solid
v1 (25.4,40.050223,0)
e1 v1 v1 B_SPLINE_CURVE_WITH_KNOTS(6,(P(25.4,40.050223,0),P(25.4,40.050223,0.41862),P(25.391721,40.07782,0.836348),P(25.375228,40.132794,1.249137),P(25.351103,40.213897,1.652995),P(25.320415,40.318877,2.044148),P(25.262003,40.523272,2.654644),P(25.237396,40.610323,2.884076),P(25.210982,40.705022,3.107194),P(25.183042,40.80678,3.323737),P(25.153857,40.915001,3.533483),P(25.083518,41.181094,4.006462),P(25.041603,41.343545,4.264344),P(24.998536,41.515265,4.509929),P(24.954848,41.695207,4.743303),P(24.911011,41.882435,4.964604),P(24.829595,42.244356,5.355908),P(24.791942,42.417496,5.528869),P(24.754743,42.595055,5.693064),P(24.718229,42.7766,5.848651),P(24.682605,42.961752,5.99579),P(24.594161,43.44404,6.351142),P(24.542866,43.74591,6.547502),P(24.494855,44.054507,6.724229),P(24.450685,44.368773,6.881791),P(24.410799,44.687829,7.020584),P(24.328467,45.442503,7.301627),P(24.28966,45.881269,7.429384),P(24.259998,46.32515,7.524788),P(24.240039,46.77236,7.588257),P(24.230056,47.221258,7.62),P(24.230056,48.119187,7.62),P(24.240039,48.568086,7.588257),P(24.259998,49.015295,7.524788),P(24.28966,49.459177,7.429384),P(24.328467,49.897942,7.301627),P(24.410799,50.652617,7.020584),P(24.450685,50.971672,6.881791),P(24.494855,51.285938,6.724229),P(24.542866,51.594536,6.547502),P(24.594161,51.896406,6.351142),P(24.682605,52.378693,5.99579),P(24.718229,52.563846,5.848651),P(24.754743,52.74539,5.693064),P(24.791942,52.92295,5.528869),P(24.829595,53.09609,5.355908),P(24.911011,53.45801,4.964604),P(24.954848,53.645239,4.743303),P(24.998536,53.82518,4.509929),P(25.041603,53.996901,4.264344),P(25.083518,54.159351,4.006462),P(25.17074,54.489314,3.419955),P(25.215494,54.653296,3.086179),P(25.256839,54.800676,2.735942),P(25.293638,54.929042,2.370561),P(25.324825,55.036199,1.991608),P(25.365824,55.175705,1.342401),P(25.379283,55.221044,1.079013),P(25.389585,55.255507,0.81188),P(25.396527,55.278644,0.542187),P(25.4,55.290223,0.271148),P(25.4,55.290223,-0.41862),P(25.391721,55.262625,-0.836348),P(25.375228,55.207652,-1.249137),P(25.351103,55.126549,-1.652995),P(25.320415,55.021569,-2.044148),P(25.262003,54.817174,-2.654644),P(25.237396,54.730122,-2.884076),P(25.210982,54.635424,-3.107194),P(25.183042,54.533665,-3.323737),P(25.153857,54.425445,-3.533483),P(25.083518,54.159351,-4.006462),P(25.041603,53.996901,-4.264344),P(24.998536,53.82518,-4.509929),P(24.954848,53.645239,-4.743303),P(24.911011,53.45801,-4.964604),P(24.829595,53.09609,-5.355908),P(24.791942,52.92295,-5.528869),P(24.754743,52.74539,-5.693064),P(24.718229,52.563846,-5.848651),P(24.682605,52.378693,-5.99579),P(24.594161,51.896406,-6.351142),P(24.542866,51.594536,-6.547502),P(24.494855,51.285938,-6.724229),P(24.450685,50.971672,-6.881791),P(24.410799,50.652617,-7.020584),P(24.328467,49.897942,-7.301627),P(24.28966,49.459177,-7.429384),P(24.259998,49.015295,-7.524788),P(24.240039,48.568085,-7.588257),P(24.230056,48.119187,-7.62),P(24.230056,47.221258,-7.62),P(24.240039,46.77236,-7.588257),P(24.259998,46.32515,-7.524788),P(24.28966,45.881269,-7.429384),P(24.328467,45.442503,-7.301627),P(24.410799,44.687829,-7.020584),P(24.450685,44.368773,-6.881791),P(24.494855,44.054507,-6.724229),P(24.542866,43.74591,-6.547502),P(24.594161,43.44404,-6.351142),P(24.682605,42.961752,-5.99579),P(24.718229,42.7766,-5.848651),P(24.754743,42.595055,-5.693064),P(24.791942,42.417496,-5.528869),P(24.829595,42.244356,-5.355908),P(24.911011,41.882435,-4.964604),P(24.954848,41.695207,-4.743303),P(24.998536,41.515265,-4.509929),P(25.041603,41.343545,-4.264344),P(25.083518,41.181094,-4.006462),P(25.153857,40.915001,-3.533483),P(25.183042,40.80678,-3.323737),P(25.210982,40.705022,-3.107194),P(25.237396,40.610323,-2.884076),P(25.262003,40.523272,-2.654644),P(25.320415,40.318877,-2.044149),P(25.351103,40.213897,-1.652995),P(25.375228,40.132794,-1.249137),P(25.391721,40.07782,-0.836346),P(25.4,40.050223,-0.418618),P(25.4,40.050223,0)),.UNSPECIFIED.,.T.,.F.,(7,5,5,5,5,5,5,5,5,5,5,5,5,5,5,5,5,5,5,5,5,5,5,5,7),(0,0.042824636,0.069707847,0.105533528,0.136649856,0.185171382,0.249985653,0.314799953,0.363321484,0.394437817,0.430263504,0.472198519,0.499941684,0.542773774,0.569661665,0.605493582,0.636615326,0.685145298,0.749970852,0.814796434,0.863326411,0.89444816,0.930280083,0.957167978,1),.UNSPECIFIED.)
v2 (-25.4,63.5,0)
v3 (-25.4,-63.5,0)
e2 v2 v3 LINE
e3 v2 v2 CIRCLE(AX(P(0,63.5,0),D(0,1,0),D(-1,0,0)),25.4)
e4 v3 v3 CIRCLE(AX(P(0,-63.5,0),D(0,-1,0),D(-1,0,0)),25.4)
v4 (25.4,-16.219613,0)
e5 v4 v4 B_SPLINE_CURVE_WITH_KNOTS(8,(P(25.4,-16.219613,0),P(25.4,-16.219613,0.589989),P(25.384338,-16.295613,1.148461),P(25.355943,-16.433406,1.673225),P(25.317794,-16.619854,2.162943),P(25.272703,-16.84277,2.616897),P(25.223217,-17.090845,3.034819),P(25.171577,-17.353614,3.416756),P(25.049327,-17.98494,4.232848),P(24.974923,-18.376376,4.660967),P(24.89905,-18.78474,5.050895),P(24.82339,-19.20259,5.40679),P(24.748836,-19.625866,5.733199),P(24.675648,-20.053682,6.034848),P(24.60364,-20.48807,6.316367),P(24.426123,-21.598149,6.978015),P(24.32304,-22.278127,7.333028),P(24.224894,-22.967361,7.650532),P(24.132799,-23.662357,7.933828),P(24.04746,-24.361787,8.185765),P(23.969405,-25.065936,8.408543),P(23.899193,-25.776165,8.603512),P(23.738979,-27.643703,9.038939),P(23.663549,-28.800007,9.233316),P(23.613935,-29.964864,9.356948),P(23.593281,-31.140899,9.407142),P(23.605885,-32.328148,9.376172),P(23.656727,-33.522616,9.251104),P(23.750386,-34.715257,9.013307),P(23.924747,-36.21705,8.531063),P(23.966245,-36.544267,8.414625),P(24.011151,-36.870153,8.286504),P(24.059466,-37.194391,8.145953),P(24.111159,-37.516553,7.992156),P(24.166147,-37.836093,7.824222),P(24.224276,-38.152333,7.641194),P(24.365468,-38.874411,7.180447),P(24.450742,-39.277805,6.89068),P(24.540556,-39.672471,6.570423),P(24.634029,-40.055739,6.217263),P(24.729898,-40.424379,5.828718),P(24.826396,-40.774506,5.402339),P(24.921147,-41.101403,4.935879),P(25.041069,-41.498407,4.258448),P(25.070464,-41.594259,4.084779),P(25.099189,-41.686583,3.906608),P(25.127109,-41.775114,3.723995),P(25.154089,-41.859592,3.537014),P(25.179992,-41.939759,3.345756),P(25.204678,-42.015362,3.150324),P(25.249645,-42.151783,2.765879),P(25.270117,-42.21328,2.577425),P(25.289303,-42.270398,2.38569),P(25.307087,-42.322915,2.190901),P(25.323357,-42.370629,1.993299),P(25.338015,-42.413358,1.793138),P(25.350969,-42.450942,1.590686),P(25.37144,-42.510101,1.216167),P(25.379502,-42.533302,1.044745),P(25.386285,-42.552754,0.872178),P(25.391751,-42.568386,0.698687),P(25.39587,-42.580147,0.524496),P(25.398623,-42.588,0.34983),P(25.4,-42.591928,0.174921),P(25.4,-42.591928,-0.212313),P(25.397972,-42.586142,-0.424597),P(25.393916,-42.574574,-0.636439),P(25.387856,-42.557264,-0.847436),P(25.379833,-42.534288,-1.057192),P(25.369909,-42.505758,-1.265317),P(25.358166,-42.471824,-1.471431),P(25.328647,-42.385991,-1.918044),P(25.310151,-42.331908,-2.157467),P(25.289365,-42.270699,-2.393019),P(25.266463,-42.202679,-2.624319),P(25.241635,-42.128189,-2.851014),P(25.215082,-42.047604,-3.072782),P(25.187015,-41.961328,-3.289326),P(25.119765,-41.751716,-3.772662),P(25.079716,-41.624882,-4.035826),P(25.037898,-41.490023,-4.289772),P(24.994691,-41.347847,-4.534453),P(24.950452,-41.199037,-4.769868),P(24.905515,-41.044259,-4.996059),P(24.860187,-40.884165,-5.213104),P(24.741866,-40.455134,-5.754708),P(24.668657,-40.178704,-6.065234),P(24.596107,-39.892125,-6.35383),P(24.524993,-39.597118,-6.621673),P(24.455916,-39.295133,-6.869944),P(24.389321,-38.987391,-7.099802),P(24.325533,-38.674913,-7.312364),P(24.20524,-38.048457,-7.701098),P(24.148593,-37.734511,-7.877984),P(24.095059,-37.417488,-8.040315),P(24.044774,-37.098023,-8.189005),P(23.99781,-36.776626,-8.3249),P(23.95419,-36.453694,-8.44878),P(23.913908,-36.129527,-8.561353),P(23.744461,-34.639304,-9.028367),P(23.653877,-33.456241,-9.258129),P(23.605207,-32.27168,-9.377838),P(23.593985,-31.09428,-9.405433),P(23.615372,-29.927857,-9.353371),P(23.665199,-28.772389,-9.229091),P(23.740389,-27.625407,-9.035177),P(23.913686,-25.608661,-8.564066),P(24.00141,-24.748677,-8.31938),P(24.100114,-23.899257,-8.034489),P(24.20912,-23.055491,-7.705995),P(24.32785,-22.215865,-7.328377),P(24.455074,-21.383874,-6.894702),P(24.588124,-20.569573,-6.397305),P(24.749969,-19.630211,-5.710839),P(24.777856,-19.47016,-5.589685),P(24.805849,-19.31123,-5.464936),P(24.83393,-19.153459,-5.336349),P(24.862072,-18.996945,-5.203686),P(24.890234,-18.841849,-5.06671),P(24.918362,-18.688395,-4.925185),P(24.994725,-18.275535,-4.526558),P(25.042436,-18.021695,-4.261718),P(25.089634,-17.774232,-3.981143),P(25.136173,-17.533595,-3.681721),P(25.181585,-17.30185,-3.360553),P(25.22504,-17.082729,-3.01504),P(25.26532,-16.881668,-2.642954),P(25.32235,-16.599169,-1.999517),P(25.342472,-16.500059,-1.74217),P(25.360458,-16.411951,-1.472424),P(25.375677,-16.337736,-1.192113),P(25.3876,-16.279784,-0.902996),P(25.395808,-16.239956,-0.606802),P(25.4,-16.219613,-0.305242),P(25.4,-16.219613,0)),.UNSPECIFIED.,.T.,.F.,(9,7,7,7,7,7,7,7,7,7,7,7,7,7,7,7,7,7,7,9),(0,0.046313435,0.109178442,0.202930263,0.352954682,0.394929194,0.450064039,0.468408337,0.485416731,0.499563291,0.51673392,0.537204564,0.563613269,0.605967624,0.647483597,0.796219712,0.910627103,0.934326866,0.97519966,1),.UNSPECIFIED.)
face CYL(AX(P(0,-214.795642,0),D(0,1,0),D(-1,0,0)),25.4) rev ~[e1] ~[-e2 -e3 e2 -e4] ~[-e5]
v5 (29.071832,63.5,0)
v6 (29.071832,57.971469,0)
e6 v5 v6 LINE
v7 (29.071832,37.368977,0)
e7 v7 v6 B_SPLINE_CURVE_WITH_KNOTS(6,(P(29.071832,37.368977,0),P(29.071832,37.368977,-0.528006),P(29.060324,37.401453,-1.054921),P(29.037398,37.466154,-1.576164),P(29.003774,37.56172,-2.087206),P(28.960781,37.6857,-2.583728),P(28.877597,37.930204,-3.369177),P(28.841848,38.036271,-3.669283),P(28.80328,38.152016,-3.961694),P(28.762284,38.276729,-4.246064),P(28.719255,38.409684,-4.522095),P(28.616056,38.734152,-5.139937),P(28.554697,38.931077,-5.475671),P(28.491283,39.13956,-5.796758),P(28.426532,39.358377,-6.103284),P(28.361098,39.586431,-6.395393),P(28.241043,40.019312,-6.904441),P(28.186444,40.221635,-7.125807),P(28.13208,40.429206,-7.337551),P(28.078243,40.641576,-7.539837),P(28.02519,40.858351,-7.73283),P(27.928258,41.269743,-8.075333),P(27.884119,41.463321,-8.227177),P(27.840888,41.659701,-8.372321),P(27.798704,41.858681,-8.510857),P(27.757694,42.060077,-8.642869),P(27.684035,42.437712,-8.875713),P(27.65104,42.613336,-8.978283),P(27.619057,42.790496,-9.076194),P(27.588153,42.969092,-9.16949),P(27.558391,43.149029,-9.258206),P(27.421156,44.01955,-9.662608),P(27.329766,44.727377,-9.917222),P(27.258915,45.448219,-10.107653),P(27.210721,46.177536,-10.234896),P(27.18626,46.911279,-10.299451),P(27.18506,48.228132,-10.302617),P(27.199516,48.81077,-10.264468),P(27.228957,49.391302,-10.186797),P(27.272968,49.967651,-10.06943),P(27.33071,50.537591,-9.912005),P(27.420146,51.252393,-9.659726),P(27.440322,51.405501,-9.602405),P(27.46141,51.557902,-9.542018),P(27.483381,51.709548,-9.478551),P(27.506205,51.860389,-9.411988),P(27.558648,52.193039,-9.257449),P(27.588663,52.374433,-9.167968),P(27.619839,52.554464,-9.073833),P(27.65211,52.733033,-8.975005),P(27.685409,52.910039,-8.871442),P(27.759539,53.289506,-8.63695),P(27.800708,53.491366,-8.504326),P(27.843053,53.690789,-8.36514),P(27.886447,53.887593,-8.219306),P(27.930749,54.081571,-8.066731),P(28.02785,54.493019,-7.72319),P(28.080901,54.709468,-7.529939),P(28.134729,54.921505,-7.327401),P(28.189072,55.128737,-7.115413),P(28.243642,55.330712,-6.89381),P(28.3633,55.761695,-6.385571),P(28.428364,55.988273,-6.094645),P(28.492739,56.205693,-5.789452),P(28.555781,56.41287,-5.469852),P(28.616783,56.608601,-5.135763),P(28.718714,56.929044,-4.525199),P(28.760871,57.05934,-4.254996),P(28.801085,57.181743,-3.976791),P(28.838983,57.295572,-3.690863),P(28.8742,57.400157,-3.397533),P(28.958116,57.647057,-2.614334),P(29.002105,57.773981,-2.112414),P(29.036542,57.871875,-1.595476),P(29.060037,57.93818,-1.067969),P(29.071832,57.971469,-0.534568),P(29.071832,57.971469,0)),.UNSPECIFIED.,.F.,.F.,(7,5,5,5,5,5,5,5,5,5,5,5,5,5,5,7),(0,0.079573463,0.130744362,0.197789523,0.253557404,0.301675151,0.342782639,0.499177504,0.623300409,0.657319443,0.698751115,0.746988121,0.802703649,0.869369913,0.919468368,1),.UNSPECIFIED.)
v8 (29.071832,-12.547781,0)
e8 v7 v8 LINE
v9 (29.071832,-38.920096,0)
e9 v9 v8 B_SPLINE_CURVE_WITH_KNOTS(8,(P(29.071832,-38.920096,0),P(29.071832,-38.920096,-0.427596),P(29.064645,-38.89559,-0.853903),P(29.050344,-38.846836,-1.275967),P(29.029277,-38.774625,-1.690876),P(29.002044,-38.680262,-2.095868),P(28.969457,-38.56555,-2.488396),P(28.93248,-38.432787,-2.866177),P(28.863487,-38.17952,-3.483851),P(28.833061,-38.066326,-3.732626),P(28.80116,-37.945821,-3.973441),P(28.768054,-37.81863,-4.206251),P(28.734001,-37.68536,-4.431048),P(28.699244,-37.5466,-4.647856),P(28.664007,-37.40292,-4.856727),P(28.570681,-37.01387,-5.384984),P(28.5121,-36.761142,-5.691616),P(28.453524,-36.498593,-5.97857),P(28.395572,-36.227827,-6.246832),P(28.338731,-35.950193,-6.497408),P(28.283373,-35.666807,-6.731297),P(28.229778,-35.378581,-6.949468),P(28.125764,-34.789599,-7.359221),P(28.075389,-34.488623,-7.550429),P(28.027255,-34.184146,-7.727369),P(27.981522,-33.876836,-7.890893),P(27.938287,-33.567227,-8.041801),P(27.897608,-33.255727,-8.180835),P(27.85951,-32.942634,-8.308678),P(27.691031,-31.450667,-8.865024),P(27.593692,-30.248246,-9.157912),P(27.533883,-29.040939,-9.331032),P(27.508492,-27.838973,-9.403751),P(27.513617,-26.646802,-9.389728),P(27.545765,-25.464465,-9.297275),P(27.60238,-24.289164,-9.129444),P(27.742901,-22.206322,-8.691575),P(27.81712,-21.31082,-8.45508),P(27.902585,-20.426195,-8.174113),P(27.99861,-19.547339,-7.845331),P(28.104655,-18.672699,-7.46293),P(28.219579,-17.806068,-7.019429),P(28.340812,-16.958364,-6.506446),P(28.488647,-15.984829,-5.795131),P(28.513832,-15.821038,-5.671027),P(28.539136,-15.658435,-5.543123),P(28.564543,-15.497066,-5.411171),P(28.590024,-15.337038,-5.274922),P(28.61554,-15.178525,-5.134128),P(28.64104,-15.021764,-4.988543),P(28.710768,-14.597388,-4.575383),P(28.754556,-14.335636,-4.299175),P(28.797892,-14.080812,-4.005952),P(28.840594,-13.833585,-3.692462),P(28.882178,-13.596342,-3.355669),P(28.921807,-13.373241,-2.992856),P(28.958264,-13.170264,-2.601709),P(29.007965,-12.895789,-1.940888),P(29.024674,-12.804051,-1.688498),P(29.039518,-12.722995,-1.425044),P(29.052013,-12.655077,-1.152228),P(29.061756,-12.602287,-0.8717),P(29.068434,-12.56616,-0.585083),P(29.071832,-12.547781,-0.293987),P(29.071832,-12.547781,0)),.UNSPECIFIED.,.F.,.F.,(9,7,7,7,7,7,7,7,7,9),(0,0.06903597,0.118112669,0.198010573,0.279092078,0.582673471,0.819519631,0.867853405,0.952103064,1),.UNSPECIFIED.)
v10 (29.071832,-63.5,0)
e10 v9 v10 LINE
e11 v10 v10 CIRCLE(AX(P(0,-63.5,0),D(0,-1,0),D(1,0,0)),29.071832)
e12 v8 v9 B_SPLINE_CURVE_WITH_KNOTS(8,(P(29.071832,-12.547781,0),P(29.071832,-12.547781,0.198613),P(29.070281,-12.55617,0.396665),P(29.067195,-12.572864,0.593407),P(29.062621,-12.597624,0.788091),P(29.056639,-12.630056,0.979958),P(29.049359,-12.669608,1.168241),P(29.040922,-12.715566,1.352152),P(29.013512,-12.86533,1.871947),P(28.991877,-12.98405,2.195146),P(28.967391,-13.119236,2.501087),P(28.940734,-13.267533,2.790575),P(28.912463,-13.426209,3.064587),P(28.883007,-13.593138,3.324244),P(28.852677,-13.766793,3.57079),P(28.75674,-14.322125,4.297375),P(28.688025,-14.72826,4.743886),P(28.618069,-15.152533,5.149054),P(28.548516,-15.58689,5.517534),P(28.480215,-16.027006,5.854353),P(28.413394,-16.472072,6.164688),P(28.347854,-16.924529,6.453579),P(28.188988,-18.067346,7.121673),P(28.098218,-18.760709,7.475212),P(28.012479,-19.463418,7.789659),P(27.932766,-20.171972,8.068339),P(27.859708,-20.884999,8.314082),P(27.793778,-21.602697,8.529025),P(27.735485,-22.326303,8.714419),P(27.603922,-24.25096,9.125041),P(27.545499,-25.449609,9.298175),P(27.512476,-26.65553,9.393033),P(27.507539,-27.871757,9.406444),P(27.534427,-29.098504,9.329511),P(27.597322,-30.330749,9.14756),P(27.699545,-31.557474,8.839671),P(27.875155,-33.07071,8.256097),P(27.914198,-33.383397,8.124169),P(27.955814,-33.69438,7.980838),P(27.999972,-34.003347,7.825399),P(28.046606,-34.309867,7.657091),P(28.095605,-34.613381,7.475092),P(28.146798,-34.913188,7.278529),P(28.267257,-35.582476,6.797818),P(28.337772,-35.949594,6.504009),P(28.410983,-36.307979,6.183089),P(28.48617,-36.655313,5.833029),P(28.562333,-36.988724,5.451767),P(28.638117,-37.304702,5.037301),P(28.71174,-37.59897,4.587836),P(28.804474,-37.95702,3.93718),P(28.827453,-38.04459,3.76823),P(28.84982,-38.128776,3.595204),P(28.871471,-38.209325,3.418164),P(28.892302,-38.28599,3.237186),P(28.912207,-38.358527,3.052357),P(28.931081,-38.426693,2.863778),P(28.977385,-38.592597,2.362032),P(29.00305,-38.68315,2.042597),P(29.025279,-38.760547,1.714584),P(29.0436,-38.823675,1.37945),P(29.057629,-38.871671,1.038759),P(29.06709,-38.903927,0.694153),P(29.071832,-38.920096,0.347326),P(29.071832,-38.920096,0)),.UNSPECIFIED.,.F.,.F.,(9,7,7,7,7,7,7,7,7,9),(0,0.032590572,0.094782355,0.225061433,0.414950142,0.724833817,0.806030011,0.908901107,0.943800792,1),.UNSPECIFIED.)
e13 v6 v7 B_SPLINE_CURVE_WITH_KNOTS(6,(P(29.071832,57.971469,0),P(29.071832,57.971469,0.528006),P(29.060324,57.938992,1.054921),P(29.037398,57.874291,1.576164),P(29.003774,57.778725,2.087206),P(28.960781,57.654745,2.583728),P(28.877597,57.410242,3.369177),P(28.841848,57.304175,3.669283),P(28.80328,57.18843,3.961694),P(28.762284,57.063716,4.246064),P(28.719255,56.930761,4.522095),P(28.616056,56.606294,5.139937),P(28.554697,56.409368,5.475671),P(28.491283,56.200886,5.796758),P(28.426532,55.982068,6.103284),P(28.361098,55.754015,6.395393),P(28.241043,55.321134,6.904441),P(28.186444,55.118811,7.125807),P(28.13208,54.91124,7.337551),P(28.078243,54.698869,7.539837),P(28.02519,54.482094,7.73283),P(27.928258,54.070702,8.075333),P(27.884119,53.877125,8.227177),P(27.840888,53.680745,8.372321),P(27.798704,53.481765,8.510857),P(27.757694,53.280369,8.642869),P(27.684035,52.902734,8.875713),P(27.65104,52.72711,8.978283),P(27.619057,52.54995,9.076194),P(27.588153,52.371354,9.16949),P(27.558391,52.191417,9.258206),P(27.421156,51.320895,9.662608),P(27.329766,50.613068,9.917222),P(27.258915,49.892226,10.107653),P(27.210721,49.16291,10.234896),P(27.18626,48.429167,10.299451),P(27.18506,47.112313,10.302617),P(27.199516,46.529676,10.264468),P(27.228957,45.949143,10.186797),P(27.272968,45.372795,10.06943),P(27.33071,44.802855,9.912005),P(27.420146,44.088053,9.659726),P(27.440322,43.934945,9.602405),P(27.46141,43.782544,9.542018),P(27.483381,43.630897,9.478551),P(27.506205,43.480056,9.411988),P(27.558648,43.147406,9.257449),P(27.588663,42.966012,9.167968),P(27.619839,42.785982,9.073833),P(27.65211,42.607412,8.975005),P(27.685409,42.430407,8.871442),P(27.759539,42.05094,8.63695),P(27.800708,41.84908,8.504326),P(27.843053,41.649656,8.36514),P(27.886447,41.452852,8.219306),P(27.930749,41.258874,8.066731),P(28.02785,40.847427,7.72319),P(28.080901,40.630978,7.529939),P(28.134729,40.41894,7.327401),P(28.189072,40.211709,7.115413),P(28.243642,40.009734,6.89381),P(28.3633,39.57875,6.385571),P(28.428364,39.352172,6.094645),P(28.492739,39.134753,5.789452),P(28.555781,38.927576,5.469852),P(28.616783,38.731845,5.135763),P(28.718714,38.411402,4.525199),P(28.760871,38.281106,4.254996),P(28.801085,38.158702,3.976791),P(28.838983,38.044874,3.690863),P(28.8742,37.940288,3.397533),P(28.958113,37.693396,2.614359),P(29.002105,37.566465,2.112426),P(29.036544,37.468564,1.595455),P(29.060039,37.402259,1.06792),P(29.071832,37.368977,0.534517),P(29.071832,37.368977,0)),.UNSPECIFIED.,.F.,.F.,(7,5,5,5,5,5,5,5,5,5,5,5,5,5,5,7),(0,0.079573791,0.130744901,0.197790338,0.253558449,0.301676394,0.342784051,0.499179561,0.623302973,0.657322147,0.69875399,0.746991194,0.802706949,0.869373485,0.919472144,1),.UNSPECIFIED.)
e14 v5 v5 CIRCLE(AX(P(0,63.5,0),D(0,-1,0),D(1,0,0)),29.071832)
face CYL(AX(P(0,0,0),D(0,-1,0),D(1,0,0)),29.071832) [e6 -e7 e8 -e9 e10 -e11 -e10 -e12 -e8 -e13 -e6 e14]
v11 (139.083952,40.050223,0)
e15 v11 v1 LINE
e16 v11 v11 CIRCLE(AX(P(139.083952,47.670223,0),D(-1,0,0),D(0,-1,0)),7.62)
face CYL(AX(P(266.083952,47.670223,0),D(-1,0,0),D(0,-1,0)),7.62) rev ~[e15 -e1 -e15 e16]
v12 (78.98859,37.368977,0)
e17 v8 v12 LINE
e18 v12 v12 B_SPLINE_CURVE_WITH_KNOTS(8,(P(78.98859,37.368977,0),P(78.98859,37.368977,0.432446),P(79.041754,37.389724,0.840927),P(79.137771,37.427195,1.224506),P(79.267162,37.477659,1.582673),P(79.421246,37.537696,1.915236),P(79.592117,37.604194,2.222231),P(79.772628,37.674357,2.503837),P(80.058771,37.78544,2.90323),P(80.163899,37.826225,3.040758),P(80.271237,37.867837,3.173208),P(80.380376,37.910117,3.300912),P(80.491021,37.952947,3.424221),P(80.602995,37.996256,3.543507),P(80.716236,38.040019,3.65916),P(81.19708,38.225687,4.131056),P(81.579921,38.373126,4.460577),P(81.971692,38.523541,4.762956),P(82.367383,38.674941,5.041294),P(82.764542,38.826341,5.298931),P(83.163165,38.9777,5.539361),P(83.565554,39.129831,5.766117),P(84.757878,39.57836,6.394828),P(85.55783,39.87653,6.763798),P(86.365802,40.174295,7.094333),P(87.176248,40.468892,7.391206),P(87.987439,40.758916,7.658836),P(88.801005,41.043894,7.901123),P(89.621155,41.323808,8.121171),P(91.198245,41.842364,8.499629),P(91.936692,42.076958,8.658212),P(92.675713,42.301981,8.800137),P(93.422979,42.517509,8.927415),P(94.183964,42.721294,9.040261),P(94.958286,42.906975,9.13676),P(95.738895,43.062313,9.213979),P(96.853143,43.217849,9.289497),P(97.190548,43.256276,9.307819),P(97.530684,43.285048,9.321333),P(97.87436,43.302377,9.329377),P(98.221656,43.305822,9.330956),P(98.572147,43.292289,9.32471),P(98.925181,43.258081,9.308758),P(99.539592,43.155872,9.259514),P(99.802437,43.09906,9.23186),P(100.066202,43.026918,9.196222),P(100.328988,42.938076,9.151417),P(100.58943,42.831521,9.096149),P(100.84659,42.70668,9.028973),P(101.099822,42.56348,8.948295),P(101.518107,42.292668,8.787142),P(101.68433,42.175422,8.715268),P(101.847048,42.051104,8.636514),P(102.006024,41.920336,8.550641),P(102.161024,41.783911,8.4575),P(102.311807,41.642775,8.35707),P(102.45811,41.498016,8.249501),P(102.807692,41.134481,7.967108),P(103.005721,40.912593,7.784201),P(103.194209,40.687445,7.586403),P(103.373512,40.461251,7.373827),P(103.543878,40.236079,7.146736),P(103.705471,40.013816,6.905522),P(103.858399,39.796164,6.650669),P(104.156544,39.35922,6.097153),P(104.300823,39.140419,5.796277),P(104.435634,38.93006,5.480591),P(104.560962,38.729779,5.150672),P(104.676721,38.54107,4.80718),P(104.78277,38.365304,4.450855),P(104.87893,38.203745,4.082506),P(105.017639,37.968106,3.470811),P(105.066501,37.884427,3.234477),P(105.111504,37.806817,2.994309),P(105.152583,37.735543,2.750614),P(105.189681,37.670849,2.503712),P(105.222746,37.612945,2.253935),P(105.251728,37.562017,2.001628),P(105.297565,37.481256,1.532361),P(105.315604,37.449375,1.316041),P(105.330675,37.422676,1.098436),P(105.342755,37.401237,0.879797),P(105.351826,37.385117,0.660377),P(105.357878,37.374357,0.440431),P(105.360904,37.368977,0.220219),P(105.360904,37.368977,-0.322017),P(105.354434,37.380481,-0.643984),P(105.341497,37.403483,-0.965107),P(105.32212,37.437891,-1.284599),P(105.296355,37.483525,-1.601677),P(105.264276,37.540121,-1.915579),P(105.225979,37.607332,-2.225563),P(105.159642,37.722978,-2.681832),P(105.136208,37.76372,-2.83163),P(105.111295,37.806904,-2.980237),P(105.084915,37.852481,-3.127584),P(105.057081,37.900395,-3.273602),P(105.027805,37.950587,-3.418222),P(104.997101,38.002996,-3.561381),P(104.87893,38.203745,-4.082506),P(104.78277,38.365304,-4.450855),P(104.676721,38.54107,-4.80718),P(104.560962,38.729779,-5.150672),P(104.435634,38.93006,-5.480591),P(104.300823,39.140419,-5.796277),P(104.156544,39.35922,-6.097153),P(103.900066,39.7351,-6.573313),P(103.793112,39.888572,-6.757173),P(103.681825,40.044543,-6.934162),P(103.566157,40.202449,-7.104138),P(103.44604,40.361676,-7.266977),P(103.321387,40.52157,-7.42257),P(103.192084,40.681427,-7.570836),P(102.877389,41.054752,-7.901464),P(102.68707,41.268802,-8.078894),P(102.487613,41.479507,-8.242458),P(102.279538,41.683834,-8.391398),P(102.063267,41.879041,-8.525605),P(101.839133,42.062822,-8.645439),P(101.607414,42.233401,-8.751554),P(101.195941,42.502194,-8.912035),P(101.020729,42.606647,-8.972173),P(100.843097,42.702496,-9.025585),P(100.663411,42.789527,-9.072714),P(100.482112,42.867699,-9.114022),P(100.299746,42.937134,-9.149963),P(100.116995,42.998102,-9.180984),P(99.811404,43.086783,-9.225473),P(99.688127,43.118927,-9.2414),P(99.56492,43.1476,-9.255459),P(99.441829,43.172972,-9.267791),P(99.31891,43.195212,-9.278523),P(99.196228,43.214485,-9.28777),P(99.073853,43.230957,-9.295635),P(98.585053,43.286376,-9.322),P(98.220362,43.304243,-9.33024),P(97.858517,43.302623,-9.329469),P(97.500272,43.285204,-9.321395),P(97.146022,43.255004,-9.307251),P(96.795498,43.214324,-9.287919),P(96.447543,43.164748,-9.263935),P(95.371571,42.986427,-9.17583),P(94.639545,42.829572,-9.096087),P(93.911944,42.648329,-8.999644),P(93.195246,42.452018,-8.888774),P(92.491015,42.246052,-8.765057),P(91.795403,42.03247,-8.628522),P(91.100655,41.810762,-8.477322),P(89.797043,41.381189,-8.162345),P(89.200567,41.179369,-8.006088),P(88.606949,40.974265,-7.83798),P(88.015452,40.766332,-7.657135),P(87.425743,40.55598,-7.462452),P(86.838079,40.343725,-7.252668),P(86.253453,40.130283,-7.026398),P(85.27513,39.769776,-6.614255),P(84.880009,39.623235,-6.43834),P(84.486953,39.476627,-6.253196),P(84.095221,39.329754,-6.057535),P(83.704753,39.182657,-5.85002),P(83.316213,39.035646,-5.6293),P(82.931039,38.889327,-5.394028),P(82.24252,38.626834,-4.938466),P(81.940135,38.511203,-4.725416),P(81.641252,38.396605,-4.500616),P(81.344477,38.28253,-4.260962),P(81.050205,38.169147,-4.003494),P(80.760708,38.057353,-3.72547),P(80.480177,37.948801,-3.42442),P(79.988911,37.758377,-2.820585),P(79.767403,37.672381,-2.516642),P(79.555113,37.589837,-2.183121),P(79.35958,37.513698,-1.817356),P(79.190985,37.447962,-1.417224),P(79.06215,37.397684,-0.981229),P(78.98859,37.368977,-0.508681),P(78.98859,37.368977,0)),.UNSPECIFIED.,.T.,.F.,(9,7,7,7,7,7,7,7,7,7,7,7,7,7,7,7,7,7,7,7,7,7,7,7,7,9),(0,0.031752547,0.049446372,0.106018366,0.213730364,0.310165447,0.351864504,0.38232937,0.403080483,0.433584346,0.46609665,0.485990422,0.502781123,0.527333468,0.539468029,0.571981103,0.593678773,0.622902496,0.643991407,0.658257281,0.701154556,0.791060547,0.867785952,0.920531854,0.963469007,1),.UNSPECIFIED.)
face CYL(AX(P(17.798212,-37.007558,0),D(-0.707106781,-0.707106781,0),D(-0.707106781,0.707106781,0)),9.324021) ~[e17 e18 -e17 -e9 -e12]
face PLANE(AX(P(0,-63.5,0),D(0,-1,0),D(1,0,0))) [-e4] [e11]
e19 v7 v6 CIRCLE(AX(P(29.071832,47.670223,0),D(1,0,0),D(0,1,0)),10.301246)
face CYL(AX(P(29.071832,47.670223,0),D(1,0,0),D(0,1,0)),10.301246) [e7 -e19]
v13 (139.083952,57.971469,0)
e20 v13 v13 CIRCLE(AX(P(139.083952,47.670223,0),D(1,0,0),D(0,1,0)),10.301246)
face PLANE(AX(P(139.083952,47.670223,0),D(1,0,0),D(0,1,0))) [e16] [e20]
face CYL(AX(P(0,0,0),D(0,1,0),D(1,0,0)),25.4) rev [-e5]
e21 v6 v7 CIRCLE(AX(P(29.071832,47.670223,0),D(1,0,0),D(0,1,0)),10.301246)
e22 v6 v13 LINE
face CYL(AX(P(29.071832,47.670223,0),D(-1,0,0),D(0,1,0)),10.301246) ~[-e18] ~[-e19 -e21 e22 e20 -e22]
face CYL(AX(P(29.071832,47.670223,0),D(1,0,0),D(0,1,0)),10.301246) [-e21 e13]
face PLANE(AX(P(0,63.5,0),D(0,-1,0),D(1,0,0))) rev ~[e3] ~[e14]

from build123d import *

# Parameters (mm, degrees)
F0_R          = 29.0718319872
F1_DEPTH      = 63.5
F3_D          = 50.8
F6_R          = 10.3012460199
F7_DEPTH      = 110.01212
F7_DEPTH_BACK = 2.28984
F11_START     = 10.10954
F10_R         = 9.3240211729
F11_DEPTH     = 116.89046
F13_D         = 15.24
F13_DEPTH     = 127
F13_TIP       = 4.578557917
F14_R         = 25.4
F15_DEPTH     = 127


with BuildPart() as f1:
    # F0 (on Front) → F1 (new body, symmetric)
    with BuildSketch(Plane.XZ):
        Circle(F0_R)
    extrude(amount=F1_DEPTH, both=True)

    # F3 (through all)
    with Locations(Plane.XZ.offset(63.5)):
        with Locations((0, 0)):
            Hole(F3_D / 2)

    # F6 (on plane+point) → F7 (join, two sides)
    with BuildSketch(Plane.YZ.offset(29.0718319872)) as f7_sk:
        with Locations((47.6702228189, 0)):
            Circle(F6_R)
    extrude(amount=F7_DEPTH)
    extrude(f7_sk.sketch, amount=-F7_DEPTH_BACK)

    # F10 (on line) → F11 (join)
    with BuildSketch(Plane(origin=(-16.7531975657, -16.7531975657, 0), x_dir=(-0.7071067812, 0.7071067812, 0), z_dir=(0.7071067812, 0.7071067812, 0)).offset(F11_START)):
        with Locations((-38.7535318732, 0)):
            Circle(F10_R)
    extrude(amount=F11_DEPTH)

    # F13
    with Locations(Plane.YZ.offset(139.0839519872)):
        with Locations((47.6702228189, 0)):
            Hole(F13_D / 2, depth=F13_DEPTH)
            with Locations((0, 0, -(F13_DEPTH + F13_TIP / 2))):  # 118° drill point
                Cone(0, F13_D / 2, F13_TIP, mode=Mode.SUBTRACT)

    # F14 (on Front) → F15 (cut)
    with BuildSketch(Plane.XZ):
        Circle(F14_R)
    extrude(amount=F15_DEPTH, mode=Mode.SUBTRACT)


solid = f1.part
